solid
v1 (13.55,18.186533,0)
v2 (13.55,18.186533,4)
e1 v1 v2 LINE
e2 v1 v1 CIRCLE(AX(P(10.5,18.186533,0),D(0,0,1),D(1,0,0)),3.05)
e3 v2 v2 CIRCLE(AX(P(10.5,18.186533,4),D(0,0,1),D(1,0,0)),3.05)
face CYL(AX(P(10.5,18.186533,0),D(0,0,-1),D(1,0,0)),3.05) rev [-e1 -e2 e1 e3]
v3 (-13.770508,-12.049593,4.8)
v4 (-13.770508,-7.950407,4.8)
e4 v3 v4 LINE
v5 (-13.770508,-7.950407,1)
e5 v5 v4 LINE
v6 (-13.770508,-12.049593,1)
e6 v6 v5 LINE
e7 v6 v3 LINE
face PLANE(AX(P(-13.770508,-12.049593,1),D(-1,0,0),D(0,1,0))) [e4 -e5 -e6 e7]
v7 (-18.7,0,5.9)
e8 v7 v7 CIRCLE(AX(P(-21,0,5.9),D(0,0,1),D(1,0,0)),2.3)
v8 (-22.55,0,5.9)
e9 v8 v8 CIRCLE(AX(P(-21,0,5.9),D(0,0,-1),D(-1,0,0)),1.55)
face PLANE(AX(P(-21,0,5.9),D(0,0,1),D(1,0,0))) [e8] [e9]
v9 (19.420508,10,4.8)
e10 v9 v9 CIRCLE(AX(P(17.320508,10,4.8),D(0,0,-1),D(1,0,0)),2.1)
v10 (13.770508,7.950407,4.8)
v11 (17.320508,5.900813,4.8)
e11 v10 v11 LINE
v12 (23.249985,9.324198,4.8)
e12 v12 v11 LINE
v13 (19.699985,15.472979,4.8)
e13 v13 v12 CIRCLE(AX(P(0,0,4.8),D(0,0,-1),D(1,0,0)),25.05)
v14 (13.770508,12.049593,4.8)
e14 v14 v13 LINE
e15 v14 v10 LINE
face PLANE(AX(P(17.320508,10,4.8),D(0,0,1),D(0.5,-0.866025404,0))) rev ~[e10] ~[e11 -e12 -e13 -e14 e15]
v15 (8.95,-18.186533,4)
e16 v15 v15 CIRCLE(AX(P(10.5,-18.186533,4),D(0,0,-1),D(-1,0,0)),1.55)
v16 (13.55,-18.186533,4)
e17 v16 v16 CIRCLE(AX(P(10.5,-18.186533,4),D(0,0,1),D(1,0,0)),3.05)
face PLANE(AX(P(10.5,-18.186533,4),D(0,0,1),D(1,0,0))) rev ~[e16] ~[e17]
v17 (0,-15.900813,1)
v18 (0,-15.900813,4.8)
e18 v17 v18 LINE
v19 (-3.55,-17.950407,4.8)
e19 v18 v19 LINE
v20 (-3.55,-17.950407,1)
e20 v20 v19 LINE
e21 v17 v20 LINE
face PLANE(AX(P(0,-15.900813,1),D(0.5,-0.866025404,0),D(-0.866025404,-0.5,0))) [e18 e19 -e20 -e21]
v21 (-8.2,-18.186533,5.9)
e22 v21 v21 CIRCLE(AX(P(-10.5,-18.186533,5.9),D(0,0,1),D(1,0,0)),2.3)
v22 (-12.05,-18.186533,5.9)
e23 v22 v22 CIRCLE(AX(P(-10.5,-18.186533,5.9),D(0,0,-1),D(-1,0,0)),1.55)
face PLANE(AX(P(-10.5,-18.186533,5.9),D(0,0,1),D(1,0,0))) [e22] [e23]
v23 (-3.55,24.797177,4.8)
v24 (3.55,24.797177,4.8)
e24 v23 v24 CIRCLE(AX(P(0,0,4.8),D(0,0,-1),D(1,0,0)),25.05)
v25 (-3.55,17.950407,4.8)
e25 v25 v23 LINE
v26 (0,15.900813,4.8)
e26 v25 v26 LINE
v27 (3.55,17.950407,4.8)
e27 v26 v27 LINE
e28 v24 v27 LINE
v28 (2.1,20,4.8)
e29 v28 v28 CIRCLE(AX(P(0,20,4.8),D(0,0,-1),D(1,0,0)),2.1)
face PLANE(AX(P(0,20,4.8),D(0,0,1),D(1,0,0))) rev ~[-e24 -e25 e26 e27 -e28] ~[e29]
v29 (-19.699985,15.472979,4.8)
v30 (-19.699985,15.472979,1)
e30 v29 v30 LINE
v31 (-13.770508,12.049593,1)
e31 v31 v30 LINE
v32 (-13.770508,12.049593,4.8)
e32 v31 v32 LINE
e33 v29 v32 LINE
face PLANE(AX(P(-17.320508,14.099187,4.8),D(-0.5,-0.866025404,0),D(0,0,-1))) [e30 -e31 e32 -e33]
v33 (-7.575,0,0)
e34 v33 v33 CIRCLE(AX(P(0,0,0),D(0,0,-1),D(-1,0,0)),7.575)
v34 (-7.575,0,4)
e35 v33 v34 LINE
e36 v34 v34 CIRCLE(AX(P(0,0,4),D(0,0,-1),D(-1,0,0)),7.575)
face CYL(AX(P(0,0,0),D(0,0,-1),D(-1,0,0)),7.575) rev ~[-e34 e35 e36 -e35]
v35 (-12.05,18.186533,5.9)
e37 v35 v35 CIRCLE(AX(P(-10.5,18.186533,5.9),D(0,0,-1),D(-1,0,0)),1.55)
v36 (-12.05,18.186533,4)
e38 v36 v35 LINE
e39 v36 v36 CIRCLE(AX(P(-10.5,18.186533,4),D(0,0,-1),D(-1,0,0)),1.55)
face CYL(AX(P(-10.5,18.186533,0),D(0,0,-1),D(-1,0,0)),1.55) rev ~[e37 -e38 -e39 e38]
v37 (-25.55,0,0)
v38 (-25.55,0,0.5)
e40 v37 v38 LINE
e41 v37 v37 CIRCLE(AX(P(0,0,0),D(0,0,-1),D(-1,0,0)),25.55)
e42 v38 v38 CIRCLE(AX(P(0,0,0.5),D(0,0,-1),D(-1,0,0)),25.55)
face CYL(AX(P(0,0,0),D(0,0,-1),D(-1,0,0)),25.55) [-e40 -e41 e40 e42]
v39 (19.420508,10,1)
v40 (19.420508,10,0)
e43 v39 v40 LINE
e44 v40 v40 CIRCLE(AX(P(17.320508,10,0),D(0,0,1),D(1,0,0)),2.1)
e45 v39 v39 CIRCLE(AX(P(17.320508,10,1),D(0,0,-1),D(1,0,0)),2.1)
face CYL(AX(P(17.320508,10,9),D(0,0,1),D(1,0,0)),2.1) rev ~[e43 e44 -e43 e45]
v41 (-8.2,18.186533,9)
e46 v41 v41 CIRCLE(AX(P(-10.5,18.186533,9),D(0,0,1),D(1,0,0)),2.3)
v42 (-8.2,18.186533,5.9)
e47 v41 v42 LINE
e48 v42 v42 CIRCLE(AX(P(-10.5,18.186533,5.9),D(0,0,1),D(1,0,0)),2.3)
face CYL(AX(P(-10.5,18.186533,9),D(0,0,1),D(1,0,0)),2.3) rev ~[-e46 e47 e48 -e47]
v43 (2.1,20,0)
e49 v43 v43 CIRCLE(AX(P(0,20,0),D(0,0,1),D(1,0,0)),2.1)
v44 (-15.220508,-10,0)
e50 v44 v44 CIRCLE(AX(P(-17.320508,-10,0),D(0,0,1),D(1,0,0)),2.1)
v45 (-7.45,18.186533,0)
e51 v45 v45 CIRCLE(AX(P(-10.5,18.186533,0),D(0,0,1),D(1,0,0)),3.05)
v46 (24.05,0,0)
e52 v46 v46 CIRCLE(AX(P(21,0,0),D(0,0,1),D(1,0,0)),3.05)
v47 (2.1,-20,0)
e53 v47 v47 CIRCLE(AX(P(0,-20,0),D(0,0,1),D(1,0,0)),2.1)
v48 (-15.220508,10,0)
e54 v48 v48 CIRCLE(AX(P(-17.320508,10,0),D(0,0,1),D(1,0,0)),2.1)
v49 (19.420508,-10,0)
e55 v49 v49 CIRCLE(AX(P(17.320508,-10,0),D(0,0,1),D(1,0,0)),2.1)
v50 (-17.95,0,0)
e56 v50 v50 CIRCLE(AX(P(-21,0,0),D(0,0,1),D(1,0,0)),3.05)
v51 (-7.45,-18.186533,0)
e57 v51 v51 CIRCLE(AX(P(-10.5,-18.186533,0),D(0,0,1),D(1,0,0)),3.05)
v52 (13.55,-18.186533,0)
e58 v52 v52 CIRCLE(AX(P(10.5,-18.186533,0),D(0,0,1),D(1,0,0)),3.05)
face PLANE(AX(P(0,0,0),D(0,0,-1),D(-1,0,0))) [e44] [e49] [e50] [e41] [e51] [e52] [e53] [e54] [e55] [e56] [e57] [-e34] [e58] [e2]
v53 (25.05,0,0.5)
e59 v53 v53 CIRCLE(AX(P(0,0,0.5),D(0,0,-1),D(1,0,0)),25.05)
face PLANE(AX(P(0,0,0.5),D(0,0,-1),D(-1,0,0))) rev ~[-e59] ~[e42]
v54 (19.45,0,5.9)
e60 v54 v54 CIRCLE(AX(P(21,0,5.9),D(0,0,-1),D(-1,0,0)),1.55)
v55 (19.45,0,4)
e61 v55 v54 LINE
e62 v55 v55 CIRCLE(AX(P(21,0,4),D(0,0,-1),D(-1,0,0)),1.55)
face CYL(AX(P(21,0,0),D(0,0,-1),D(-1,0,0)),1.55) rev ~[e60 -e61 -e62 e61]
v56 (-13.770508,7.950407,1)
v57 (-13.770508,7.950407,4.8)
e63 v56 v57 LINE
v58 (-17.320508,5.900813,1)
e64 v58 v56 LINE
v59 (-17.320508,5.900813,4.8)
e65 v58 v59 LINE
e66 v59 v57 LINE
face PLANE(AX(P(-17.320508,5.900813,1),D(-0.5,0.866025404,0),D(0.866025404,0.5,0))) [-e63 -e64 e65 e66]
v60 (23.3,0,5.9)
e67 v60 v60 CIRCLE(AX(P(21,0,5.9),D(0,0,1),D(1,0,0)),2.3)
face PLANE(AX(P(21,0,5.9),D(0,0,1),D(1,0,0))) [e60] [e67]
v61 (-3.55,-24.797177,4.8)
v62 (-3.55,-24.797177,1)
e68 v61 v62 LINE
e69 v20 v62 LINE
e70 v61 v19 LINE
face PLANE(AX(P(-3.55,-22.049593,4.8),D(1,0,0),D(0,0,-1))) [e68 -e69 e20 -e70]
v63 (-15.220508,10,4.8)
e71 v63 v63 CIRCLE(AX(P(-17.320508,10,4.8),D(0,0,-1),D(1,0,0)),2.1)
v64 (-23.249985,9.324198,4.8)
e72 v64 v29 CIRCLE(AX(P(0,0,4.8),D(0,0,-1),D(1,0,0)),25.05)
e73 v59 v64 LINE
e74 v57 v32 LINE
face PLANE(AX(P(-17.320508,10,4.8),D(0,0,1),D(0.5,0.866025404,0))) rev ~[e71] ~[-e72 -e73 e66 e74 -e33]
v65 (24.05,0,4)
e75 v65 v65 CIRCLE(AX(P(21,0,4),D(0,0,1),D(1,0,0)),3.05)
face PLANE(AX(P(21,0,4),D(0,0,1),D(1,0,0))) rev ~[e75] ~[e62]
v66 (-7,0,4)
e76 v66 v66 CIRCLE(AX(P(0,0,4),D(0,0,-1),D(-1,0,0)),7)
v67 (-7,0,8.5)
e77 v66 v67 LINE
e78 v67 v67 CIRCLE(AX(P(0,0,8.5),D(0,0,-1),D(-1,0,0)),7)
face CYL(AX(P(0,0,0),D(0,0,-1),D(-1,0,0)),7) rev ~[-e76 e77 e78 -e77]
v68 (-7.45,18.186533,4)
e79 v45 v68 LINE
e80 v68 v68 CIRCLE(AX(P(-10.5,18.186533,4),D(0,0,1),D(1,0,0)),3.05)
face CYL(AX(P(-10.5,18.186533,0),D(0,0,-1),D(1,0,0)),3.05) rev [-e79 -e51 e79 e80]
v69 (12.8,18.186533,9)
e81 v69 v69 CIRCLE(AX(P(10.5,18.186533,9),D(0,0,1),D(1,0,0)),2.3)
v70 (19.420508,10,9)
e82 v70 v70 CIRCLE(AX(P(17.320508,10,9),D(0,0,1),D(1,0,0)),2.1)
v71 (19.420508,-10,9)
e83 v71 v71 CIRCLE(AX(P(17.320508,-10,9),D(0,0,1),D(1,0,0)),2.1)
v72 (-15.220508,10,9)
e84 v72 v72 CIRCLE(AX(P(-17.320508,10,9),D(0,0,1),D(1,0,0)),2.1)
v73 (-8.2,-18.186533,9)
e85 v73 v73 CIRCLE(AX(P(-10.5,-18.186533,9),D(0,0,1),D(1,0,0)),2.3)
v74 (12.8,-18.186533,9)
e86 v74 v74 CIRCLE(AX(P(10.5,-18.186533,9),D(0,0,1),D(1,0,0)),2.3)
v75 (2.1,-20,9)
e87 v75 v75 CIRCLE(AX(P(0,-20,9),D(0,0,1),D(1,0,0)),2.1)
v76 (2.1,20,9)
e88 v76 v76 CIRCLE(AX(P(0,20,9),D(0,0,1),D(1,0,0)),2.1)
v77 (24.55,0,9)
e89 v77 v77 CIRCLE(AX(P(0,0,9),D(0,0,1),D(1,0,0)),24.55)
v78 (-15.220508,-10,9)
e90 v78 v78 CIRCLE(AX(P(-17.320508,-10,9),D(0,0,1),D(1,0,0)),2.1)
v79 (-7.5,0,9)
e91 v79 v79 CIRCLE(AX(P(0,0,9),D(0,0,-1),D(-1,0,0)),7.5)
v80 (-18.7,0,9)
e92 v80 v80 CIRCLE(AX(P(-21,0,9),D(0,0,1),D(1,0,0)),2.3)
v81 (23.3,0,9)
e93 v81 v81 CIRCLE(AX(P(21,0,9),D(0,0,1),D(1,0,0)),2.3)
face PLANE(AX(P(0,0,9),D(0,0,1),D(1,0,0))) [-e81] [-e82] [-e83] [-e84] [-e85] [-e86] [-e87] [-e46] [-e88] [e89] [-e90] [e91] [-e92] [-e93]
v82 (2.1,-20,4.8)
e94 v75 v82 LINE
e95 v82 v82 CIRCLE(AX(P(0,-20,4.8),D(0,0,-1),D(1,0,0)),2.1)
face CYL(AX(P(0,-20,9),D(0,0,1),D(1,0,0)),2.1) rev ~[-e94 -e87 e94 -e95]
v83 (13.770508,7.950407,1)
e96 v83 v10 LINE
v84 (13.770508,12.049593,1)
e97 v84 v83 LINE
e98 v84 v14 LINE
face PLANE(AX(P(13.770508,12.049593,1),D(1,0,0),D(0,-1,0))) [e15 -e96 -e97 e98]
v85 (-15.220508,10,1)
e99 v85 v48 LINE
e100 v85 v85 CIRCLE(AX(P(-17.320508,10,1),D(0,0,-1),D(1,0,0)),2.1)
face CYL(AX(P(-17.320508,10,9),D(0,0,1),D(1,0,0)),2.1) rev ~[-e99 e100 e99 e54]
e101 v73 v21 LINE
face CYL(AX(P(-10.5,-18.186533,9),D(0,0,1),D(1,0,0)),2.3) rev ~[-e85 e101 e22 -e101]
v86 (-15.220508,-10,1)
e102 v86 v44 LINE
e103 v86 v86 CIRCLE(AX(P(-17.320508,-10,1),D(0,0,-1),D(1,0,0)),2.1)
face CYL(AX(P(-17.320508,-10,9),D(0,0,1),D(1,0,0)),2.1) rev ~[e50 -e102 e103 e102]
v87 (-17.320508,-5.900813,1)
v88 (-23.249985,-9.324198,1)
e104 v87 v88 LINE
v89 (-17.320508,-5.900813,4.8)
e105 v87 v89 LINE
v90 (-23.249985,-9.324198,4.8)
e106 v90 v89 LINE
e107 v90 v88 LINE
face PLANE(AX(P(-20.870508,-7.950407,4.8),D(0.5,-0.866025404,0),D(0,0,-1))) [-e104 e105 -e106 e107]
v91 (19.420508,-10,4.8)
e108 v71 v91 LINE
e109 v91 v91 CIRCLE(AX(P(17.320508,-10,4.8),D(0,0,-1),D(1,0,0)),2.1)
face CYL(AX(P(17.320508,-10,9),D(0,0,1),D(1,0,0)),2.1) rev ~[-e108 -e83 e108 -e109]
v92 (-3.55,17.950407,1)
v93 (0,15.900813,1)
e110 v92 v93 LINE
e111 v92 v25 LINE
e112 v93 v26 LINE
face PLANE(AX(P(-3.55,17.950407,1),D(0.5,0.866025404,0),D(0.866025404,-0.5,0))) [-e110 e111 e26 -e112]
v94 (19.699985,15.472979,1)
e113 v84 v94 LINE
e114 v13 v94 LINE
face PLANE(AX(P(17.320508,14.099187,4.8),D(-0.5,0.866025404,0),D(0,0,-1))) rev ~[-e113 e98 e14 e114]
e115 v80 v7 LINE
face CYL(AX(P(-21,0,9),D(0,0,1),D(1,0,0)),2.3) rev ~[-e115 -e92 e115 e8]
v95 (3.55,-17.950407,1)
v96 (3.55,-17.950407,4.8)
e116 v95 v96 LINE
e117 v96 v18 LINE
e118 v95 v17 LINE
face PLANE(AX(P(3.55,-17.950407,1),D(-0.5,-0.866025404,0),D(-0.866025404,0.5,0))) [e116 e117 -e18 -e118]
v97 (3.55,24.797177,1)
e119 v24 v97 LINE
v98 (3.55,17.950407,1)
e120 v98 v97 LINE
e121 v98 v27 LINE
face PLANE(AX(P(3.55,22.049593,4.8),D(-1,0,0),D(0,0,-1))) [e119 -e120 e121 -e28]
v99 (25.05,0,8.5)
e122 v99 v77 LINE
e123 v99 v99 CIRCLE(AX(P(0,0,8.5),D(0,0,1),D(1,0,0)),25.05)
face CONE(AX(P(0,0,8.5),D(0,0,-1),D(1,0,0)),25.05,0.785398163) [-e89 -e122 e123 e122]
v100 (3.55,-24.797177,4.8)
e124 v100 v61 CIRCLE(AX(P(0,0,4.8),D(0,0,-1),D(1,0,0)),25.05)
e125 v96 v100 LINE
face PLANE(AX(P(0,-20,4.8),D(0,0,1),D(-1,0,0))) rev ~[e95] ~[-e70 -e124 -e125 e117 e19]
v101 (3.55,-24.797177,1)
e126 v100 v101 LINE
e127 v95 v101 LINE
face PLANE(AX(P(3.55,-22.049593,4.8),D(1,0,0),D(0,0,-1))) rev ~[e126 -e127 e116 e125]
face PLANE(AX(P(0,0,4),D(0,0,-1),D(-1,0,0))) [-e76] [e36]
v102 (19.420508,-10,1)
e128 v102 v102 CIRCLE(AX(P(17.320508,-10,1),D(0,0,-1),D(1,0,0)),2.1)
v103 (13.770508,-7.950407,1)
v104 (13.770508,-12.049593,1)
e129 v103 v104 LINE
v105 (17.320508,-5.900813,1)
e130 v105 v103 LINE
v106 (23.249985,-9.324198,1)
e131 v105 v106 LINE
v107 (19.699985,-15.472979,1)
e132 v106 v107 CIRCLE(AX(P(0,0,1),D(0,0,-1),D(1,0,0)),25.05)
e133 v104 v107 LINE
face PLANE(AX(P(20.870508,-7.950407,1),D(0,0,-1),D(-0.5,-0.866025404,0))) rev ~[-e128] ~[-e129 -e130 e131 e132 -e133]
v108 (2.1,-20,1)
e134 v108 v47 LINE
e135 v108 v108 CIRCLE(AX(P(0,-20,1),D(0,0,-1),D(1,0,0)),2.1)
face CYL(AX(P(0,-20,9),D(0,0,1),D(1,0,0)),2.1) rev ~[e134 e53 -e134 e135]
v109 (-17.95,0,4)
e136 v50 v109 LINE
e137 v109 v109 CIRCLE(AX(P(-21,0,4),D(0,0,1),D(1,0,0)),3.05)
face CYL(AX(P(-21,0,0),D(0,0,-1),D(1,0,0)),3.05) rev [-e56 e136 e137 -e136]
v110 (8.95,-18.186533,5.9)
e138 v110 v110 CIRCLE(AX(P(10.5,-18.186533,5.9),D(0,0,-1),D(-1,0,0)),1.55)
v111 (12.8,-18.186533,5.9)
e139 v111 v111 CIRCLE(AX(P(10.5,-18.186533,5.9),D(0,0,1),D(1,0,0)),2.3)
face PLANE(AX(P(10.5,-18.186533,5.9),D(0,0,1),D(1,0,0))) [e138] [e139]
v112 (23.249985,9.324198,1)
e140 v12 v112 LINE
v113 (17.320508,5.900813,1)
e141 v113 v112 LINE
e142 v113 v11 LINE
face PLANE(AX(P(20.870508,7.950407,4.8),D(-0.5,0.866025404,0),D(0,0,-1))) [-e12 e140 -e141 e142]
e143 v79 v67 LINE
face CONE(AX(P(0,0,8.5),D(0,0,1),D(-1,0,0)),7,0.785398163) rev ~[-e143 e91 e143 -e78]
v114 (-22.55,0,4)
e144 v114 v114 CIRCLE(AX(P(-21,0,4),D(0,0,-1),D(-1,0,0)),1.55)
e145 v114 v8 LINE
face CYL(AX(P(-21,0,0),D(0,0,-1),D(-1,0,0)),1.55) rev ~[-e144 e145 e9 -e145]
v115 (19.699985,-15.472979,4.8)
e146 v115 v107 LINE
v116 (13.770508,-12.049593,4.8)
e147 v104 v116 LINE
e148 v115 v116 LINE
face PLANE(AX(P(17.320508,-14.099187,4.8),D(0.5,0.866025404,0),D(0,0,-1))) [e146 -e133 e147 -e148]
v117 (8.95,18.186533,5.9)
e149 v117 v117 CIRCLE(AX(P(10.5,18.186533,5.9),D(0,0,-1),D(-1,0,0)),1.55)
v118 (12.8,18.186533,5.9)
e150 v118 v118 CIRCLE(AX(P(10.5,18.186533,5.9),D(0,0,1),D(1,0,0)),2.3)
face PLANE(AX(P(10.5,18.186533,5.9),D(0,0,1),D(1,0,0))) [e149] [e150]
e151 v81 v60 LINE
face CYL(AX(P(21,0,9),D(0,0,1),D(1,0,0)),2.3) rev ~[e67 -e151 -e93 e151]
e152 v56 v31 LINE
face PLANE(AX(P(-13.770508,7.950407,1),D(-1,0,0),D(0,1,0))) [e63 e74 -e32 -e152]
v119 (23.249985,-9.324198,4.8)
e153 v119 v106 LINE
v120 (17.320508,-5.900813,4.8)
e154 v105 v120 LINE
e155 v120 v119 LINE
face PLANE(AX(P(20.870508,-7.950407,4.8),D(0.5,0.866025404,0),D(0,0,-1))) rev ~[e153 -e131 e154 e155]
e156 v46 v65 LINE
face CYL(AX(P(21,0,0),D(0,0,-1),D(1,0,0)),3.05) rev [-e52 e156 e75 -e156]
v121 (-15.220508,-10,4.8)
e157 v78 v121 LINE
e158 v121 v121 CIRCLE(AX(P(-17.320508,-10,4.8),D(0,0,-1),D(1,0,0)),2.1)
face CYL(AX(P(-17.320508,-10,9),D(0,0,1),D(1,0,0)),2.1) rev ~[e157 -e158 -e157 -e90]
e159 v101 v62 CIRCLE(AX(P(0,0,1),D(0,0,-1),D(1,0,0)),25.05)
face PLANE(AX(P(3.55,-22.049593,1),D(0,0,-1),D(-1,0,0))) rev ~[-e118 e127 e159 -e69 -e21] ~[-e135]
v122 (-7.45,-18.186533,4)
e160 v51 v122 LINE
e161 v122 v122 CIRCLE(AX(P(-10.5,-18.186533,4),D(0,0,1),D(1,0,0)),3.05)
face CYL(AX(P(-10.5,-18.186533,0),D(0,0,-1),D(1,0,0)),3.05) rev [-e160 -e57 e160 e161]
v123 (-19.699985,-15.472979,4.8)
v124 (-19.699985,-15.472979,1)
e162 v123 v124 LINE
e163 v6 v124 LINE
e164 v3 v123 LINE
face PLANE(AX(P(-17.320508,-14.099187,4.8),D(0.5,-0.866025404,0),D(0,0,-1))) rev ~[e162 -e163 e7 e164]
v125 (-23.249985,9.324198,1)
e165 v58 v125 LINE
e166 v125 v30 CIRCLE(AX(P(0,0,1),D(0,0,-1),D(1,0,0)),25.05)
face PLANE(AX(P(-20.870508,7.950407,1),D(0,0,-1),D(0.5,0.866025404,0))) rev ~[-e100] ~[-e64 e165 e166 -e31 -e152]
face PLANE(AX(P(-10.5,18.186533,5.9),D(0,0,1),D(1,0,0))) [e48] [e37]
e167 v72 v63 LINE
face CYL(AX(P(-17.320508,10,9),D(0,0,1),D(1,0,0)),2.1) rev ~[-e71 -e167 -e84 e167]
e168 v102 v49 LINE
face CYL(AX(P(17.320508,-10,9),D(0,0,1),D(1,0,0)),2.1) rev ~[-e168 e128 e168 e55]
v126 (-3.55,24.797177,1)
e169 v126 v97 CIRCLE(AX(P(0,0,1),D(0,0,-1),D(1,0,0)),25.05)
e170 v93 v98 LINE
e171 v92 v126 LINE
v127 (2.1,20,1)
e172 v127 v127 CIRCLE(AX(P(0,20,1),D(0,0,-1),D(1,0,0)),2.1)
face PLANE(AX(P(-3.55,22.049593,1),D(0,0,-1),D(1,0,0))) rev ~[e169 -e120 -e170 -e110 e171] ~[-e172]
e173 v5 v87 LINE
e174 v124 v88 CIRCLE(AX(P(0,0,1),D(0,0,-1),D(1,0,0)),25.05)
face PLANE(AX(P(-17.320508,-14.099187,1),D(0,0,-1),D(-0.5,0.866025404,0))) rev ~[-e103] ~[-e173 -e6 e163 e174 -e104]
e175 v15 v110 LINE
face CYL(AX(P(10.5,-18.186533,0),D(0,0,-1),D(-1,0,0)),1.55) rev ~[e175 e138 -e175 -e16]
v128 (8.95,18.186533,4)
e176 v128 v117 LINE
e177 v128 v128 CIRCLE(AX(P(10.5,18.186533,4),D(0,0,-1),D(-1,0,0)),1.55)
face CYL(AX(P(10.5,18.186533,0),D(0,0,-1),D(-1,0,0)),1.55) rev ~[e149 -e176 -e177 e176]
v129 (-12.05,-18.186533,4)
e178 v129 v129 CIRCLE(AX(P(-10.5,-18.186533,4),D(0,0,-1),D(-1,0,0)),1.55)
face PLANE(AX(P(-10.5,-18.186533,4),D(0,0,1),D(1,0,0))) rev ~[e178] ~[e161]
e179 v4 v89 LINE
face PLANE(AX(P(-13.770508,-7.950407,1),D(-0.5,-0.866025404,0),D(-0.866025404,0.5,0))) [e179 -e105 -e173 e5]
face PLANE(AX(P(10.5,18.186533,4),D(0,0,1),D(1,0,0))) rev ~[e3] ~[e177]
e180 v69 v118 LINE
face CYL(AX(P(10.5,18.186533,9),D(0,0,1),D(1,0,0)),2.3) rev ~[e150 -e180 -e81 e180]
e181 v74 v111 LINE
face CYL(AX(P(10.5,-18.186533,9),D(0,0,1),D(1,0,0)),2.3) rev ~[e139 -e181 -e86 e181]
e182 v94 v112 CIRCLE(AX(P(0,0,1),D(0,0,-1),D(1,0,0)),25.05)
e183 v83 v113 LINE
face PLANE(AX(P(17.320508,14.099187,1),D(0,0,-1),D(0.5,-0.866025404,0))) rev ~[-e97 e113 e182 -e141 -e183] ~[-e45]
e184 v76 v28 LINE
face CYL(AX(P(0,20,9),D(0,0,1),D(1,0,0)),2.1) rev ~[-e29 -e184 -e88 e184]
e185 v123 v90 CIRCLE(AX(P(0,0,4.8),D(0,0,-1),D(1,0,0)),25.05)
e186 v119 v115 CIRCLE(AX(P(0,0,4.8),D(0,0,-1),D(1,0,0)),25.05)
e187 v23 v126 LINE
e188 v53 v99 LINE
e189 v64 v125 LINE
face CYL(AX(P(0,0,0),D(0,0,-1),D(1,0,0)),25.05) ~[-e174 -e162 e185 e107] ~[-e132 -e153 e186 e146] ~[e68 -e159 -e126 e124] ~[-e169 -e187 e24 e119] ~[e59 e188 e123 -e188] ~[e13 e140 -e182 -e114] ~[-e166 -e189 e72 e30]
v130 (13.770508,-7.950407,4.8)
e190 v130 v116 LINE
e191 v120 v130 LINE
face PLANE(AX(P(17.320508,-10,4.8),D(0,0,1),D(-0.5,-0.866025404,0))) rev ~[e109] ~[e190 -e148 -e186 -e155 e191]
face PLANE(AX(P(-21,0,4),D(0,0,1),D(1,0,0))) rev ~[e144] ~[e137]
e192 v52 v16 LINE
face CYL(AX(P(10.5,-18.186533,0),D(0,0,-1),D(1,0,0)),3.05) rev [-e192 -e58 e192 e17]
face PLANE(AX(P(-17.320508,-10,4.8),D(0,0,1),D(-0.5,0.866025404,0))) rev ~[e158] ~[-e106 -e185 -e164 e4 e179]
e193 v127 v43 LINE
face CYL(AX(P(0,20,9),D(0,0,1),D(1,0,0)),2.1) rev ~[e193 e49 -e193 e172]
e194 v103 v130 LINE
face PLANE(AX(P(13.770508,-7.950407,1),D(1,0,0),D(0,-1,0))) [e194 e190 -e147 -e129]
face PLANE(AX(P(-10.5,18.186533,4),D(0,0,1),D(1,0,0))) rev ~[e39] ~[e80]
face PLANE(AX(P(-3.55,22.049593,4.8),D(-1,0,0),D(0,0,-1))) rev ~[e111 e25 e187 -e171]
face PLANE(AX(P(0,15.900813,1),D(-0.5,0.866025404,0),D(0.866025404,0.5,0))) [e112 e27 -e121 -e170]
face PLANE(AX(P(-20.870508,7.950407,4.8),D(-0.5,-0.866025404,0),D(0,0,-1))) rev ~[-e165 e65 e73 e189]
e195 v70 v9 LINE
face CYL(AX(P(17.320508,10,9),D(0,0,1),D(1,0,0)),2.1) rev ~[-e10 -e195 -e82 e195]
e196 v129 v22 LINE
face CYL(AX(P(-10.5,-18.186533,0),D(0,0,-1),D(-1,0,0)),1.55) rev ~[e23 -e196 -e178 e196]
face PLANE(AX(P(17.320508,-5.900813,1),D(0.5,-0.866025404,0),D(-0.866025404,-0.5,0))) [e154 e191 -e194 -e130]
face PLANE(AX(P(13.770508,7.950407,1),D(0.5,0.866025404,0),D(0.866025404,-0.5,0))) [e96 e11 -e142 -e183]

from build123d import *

# Parameters (mm, degrees)
OUTPUT_MASTER_SKETCH_R  = 25.05
BOSS_EXTRUDE1_DEPTH     = 9
SKETCH4_R               = 3.05
CUT_EXTRUDE1_DEPTH      = 4
SKETCH5_R               = 25.55
SKETCH5_R_2             = 25.05
BOSS_EXTRUDE2_DEPTH     = 0.5
SKETCH6_R               = 1.55
CUT_EXTRUDE2_DEPTH      = 38.237145433
SKETCH7_R               = 2.3
CUT_EXTRUDE3_DEPTH      = 3.1
CHAMFER1_SIZE           = 0.5
SKETCH8_R               = 7
CUT_EXTRUDE4_DEPTH      = 10
SKETCH9_R               = 7.575
CUT_EXTRUDE5_DEPTH      = 4
SKETCH10_R              = 2.1
M4_THRU_DEPTH           = 38.237145433
CHAMFER3_SIZE           = 0.5
M4_START                = -8
M4_HEXNUT_CUT_DEPTH     = 3.8
SKETCH12_W              = 7.1
SKETCH12_H              = 3.8
M4_HEXNUT_SLOT_DEPTH    = 55.767908461
M4_HEXNUT_PATTERN_COUNT = 6


with BuildPart() as part:
    # Output Master Sketch → Boss-Extrude1 (new body)
    with BuildSketch(Plane.XY):
        Circle(OUTPUT_MASTER_SKETCH_R)
    extrude(amount=BOSS_EXTRUDE1_DEPTH)

    # Sketch4 → Cut-Extrude1 (cut)
    with BuildSketch(Plane.XY):
        with Locations((21, 0)):
            Circle(SKETCH4_R)
        with Locations((10.5, -18.186533479)):
            Circle(SKETCH4_R)
        with Locations((-10.5, -18.186533479)):
            Circle(SKETCH4_R)
        with Locations((-21, 0)):
            Circle(SKETCH4_R)
        with Locations((-10.5, 18.186533479)):
            Circle(SKETCH4_R)
        with Locations((10.5, 18.186533479)):
            Circle(SKETCH4_R)
    extrude(amount=CUT_EXTRUDE1_DEPTH, mode=Mode.SUBTRACT)

    # Sketch5 → Boss-Extrude2 (add)
    with BuildSketch(Plane(origin=(0, 0, 0), x_dir=(-1, 0, 0), z_dir=(0, 0, -1))):
        Circle(SKETCH5_R)
        Circle(SKETCH5_R_2, mode=Mode.SUBTRACT)
    extrude(amount=-BOSS_EXTRUDE2_DEPTH)

    # Sketch6 → Cut-Extrude2 (cut, through all)
    with BuildSketch(Plane(origin=(0, 0, 0), x_dir=(-1, 0, 0), z_dir=(0, 0, -1))):
        with Locations((-21, 0)):
            Circle(SKETCH6_R)
        with Locations((-10.5, 18.186533479)):
            Circle(SKETCH6_R)
        with Locations((10.5, 18.186533479)):
            Circle(SKETCH6_R)
        with Locations((21, 0)):
            Circle(SKETCH6_R)
        with Locations((10.5, -18.186533479)):
            Circle(SKETCH6_R)
        with Locations((-10.5, -18.186533479)):
            Circle(SKETCH6_R)
    extrude(amount=-CUT_EXTRUDE2_DEPTH, mode=Mode.SUBTRACT)

    # Sketch7 → Cut-Extrude3 (cut)
    with BuildSketch(Plane.XY.offset(9)):
        with Locations((-21, 0)):
            Circle(SKETCH7_R)
        with Locations((-10.5, 18.186533479)):
            Circle(SKETCH7_R)
        with Locations((10.5, 18.186533479)):
            Circle(SKETCH7_R)
        with Locations((21, 0)):
            Circle(SKETCH7_R)
        with Locations((10.5, -18.186533479)):
            Circle(SKETCH7_R)
        with Locations((-10.5, -18.186533479)):
            Circle(SKETCH7_R)
    extrude(amount=-CUT_EXTRUDE3_DEPTH, mode=Mode.SUBTRACT)

    # Chamfer1
    chamfer1_edges = [part.edges().sort_by_distance(p)[0] for p in [
        (-25.05, 0, 9),
    ]]
    chamfer(chamfer1_edges, length=CHAMFER1_SIZE)

    # Sketch8 → Cut-Extrude4 (cut)
    with BuildSketch(Plane(origin=(0, 0, 0), x_dir=(-1, 0, 0), z_dir=(0, 0, -1))):
        Circle(SKETCH8_R)
    extrude(amount=-CUT_EXTRUDE4_DEPTH, mode=Mode.SUBTRACT)

    # Sketch9 → Cut-Extrude5 (cut)
    with BuildSketch(Plane(origin=(0, 0, 0), x_dir=(-1, 0, 0), z_dir=(0, 0, -1))):
        Circle(SKETCH9_R)
    extrude(amount=-CUT_EXTRUDE5_DEPTH, mode=Mode.SUBTRACT)

    # Sketch10 → M4 Thru (cut, through all)
    with BuildSketch(Plane.XY.offset(9)):
        with Locations((0, 20)):
            Circle(SKETCH10_R)
        with Locations((17.320508076, 10)):
            Circle(SKETCH10_R)
        with Locations((17.320508076, -10)):
            Circle(SKETCH10_R)
        with Locations((0, -20)):
            Circle(SKETCH10_R)
        with Locations((-17.320508076, -10)):
            Circle(SKETCH10_R)
        with Locations((-17.320508076, 10)):
            Circle(SKETCH10_R)
    extrude(amount=-M4_THRU_DEPTH, mode=Mode.SUBTRACT)

    # Chamfer3
    chamfer3_edges = [part.edges().sort_by_distance(p)[0] for p in [
        (7, 0, 9),
    ]]
    chamfer(chamfer3_edges, length=CHAMFER3_SIZE)

    # Sketch11 → M4 Hexnut Cut (cut)
    with BuildSketch(Plane.XY.offset(9).offset(M4_START)):
        Polygon((0, 24.099186911), (-3.55, 22.049593456), (-3.55, 17.950406544), (0, 15.900813089), (3.55, 17.950406544), (3.55, 22.049593456), align=None)
    m4_hexnut_cut = extrude(amount=M4_HEXNUT_CUT_DEPTH, mode=Mode.SUBTRACT)

    # Sketch12 → M4 Hexnut Slot (cut, through all)
    with BuildSketch(Plane(origin=(0, 22.049593456, 0), x_dir=(1, 0, 0), z_dir=(0, 1, 0))):
        with Locations((0, -2.9)):
            Rectangle(SKETCH12_W, SKETCH12_H)
    m4_hexnut_slot = extrude(amount=M4_HEXNUT_SLOT_DEPTH, mode=Mode.SUBTRACT)

    # M4 Hexnut Pattern: M4 Hexnut Cut, M4 Hexnut Slot ×6 about axis
    m4_hexnut_pattern_axis = Axis((0, 0, 0), (0, 0, 1))
    add([m4_hexnut_cut.rotate(m4_hexnut_pattern_axis, i * 360 / M4_HEXNUT_PATTERN_COUNT) for i in range(1, M4_HEXNUT_PATTERN_COUNT)], mode=Mode.SUBTRACT)
    add([m4_hexnut_slot.rotate(m4_hexnut_pattern_axis, i * 360 / M4_HEXNUT_PATTERN_COUNT) for i in range(1, M4_HEXNUT_PATTERN_COUNT)], mode=Mode.SUBTRACT)


solid = part.part
